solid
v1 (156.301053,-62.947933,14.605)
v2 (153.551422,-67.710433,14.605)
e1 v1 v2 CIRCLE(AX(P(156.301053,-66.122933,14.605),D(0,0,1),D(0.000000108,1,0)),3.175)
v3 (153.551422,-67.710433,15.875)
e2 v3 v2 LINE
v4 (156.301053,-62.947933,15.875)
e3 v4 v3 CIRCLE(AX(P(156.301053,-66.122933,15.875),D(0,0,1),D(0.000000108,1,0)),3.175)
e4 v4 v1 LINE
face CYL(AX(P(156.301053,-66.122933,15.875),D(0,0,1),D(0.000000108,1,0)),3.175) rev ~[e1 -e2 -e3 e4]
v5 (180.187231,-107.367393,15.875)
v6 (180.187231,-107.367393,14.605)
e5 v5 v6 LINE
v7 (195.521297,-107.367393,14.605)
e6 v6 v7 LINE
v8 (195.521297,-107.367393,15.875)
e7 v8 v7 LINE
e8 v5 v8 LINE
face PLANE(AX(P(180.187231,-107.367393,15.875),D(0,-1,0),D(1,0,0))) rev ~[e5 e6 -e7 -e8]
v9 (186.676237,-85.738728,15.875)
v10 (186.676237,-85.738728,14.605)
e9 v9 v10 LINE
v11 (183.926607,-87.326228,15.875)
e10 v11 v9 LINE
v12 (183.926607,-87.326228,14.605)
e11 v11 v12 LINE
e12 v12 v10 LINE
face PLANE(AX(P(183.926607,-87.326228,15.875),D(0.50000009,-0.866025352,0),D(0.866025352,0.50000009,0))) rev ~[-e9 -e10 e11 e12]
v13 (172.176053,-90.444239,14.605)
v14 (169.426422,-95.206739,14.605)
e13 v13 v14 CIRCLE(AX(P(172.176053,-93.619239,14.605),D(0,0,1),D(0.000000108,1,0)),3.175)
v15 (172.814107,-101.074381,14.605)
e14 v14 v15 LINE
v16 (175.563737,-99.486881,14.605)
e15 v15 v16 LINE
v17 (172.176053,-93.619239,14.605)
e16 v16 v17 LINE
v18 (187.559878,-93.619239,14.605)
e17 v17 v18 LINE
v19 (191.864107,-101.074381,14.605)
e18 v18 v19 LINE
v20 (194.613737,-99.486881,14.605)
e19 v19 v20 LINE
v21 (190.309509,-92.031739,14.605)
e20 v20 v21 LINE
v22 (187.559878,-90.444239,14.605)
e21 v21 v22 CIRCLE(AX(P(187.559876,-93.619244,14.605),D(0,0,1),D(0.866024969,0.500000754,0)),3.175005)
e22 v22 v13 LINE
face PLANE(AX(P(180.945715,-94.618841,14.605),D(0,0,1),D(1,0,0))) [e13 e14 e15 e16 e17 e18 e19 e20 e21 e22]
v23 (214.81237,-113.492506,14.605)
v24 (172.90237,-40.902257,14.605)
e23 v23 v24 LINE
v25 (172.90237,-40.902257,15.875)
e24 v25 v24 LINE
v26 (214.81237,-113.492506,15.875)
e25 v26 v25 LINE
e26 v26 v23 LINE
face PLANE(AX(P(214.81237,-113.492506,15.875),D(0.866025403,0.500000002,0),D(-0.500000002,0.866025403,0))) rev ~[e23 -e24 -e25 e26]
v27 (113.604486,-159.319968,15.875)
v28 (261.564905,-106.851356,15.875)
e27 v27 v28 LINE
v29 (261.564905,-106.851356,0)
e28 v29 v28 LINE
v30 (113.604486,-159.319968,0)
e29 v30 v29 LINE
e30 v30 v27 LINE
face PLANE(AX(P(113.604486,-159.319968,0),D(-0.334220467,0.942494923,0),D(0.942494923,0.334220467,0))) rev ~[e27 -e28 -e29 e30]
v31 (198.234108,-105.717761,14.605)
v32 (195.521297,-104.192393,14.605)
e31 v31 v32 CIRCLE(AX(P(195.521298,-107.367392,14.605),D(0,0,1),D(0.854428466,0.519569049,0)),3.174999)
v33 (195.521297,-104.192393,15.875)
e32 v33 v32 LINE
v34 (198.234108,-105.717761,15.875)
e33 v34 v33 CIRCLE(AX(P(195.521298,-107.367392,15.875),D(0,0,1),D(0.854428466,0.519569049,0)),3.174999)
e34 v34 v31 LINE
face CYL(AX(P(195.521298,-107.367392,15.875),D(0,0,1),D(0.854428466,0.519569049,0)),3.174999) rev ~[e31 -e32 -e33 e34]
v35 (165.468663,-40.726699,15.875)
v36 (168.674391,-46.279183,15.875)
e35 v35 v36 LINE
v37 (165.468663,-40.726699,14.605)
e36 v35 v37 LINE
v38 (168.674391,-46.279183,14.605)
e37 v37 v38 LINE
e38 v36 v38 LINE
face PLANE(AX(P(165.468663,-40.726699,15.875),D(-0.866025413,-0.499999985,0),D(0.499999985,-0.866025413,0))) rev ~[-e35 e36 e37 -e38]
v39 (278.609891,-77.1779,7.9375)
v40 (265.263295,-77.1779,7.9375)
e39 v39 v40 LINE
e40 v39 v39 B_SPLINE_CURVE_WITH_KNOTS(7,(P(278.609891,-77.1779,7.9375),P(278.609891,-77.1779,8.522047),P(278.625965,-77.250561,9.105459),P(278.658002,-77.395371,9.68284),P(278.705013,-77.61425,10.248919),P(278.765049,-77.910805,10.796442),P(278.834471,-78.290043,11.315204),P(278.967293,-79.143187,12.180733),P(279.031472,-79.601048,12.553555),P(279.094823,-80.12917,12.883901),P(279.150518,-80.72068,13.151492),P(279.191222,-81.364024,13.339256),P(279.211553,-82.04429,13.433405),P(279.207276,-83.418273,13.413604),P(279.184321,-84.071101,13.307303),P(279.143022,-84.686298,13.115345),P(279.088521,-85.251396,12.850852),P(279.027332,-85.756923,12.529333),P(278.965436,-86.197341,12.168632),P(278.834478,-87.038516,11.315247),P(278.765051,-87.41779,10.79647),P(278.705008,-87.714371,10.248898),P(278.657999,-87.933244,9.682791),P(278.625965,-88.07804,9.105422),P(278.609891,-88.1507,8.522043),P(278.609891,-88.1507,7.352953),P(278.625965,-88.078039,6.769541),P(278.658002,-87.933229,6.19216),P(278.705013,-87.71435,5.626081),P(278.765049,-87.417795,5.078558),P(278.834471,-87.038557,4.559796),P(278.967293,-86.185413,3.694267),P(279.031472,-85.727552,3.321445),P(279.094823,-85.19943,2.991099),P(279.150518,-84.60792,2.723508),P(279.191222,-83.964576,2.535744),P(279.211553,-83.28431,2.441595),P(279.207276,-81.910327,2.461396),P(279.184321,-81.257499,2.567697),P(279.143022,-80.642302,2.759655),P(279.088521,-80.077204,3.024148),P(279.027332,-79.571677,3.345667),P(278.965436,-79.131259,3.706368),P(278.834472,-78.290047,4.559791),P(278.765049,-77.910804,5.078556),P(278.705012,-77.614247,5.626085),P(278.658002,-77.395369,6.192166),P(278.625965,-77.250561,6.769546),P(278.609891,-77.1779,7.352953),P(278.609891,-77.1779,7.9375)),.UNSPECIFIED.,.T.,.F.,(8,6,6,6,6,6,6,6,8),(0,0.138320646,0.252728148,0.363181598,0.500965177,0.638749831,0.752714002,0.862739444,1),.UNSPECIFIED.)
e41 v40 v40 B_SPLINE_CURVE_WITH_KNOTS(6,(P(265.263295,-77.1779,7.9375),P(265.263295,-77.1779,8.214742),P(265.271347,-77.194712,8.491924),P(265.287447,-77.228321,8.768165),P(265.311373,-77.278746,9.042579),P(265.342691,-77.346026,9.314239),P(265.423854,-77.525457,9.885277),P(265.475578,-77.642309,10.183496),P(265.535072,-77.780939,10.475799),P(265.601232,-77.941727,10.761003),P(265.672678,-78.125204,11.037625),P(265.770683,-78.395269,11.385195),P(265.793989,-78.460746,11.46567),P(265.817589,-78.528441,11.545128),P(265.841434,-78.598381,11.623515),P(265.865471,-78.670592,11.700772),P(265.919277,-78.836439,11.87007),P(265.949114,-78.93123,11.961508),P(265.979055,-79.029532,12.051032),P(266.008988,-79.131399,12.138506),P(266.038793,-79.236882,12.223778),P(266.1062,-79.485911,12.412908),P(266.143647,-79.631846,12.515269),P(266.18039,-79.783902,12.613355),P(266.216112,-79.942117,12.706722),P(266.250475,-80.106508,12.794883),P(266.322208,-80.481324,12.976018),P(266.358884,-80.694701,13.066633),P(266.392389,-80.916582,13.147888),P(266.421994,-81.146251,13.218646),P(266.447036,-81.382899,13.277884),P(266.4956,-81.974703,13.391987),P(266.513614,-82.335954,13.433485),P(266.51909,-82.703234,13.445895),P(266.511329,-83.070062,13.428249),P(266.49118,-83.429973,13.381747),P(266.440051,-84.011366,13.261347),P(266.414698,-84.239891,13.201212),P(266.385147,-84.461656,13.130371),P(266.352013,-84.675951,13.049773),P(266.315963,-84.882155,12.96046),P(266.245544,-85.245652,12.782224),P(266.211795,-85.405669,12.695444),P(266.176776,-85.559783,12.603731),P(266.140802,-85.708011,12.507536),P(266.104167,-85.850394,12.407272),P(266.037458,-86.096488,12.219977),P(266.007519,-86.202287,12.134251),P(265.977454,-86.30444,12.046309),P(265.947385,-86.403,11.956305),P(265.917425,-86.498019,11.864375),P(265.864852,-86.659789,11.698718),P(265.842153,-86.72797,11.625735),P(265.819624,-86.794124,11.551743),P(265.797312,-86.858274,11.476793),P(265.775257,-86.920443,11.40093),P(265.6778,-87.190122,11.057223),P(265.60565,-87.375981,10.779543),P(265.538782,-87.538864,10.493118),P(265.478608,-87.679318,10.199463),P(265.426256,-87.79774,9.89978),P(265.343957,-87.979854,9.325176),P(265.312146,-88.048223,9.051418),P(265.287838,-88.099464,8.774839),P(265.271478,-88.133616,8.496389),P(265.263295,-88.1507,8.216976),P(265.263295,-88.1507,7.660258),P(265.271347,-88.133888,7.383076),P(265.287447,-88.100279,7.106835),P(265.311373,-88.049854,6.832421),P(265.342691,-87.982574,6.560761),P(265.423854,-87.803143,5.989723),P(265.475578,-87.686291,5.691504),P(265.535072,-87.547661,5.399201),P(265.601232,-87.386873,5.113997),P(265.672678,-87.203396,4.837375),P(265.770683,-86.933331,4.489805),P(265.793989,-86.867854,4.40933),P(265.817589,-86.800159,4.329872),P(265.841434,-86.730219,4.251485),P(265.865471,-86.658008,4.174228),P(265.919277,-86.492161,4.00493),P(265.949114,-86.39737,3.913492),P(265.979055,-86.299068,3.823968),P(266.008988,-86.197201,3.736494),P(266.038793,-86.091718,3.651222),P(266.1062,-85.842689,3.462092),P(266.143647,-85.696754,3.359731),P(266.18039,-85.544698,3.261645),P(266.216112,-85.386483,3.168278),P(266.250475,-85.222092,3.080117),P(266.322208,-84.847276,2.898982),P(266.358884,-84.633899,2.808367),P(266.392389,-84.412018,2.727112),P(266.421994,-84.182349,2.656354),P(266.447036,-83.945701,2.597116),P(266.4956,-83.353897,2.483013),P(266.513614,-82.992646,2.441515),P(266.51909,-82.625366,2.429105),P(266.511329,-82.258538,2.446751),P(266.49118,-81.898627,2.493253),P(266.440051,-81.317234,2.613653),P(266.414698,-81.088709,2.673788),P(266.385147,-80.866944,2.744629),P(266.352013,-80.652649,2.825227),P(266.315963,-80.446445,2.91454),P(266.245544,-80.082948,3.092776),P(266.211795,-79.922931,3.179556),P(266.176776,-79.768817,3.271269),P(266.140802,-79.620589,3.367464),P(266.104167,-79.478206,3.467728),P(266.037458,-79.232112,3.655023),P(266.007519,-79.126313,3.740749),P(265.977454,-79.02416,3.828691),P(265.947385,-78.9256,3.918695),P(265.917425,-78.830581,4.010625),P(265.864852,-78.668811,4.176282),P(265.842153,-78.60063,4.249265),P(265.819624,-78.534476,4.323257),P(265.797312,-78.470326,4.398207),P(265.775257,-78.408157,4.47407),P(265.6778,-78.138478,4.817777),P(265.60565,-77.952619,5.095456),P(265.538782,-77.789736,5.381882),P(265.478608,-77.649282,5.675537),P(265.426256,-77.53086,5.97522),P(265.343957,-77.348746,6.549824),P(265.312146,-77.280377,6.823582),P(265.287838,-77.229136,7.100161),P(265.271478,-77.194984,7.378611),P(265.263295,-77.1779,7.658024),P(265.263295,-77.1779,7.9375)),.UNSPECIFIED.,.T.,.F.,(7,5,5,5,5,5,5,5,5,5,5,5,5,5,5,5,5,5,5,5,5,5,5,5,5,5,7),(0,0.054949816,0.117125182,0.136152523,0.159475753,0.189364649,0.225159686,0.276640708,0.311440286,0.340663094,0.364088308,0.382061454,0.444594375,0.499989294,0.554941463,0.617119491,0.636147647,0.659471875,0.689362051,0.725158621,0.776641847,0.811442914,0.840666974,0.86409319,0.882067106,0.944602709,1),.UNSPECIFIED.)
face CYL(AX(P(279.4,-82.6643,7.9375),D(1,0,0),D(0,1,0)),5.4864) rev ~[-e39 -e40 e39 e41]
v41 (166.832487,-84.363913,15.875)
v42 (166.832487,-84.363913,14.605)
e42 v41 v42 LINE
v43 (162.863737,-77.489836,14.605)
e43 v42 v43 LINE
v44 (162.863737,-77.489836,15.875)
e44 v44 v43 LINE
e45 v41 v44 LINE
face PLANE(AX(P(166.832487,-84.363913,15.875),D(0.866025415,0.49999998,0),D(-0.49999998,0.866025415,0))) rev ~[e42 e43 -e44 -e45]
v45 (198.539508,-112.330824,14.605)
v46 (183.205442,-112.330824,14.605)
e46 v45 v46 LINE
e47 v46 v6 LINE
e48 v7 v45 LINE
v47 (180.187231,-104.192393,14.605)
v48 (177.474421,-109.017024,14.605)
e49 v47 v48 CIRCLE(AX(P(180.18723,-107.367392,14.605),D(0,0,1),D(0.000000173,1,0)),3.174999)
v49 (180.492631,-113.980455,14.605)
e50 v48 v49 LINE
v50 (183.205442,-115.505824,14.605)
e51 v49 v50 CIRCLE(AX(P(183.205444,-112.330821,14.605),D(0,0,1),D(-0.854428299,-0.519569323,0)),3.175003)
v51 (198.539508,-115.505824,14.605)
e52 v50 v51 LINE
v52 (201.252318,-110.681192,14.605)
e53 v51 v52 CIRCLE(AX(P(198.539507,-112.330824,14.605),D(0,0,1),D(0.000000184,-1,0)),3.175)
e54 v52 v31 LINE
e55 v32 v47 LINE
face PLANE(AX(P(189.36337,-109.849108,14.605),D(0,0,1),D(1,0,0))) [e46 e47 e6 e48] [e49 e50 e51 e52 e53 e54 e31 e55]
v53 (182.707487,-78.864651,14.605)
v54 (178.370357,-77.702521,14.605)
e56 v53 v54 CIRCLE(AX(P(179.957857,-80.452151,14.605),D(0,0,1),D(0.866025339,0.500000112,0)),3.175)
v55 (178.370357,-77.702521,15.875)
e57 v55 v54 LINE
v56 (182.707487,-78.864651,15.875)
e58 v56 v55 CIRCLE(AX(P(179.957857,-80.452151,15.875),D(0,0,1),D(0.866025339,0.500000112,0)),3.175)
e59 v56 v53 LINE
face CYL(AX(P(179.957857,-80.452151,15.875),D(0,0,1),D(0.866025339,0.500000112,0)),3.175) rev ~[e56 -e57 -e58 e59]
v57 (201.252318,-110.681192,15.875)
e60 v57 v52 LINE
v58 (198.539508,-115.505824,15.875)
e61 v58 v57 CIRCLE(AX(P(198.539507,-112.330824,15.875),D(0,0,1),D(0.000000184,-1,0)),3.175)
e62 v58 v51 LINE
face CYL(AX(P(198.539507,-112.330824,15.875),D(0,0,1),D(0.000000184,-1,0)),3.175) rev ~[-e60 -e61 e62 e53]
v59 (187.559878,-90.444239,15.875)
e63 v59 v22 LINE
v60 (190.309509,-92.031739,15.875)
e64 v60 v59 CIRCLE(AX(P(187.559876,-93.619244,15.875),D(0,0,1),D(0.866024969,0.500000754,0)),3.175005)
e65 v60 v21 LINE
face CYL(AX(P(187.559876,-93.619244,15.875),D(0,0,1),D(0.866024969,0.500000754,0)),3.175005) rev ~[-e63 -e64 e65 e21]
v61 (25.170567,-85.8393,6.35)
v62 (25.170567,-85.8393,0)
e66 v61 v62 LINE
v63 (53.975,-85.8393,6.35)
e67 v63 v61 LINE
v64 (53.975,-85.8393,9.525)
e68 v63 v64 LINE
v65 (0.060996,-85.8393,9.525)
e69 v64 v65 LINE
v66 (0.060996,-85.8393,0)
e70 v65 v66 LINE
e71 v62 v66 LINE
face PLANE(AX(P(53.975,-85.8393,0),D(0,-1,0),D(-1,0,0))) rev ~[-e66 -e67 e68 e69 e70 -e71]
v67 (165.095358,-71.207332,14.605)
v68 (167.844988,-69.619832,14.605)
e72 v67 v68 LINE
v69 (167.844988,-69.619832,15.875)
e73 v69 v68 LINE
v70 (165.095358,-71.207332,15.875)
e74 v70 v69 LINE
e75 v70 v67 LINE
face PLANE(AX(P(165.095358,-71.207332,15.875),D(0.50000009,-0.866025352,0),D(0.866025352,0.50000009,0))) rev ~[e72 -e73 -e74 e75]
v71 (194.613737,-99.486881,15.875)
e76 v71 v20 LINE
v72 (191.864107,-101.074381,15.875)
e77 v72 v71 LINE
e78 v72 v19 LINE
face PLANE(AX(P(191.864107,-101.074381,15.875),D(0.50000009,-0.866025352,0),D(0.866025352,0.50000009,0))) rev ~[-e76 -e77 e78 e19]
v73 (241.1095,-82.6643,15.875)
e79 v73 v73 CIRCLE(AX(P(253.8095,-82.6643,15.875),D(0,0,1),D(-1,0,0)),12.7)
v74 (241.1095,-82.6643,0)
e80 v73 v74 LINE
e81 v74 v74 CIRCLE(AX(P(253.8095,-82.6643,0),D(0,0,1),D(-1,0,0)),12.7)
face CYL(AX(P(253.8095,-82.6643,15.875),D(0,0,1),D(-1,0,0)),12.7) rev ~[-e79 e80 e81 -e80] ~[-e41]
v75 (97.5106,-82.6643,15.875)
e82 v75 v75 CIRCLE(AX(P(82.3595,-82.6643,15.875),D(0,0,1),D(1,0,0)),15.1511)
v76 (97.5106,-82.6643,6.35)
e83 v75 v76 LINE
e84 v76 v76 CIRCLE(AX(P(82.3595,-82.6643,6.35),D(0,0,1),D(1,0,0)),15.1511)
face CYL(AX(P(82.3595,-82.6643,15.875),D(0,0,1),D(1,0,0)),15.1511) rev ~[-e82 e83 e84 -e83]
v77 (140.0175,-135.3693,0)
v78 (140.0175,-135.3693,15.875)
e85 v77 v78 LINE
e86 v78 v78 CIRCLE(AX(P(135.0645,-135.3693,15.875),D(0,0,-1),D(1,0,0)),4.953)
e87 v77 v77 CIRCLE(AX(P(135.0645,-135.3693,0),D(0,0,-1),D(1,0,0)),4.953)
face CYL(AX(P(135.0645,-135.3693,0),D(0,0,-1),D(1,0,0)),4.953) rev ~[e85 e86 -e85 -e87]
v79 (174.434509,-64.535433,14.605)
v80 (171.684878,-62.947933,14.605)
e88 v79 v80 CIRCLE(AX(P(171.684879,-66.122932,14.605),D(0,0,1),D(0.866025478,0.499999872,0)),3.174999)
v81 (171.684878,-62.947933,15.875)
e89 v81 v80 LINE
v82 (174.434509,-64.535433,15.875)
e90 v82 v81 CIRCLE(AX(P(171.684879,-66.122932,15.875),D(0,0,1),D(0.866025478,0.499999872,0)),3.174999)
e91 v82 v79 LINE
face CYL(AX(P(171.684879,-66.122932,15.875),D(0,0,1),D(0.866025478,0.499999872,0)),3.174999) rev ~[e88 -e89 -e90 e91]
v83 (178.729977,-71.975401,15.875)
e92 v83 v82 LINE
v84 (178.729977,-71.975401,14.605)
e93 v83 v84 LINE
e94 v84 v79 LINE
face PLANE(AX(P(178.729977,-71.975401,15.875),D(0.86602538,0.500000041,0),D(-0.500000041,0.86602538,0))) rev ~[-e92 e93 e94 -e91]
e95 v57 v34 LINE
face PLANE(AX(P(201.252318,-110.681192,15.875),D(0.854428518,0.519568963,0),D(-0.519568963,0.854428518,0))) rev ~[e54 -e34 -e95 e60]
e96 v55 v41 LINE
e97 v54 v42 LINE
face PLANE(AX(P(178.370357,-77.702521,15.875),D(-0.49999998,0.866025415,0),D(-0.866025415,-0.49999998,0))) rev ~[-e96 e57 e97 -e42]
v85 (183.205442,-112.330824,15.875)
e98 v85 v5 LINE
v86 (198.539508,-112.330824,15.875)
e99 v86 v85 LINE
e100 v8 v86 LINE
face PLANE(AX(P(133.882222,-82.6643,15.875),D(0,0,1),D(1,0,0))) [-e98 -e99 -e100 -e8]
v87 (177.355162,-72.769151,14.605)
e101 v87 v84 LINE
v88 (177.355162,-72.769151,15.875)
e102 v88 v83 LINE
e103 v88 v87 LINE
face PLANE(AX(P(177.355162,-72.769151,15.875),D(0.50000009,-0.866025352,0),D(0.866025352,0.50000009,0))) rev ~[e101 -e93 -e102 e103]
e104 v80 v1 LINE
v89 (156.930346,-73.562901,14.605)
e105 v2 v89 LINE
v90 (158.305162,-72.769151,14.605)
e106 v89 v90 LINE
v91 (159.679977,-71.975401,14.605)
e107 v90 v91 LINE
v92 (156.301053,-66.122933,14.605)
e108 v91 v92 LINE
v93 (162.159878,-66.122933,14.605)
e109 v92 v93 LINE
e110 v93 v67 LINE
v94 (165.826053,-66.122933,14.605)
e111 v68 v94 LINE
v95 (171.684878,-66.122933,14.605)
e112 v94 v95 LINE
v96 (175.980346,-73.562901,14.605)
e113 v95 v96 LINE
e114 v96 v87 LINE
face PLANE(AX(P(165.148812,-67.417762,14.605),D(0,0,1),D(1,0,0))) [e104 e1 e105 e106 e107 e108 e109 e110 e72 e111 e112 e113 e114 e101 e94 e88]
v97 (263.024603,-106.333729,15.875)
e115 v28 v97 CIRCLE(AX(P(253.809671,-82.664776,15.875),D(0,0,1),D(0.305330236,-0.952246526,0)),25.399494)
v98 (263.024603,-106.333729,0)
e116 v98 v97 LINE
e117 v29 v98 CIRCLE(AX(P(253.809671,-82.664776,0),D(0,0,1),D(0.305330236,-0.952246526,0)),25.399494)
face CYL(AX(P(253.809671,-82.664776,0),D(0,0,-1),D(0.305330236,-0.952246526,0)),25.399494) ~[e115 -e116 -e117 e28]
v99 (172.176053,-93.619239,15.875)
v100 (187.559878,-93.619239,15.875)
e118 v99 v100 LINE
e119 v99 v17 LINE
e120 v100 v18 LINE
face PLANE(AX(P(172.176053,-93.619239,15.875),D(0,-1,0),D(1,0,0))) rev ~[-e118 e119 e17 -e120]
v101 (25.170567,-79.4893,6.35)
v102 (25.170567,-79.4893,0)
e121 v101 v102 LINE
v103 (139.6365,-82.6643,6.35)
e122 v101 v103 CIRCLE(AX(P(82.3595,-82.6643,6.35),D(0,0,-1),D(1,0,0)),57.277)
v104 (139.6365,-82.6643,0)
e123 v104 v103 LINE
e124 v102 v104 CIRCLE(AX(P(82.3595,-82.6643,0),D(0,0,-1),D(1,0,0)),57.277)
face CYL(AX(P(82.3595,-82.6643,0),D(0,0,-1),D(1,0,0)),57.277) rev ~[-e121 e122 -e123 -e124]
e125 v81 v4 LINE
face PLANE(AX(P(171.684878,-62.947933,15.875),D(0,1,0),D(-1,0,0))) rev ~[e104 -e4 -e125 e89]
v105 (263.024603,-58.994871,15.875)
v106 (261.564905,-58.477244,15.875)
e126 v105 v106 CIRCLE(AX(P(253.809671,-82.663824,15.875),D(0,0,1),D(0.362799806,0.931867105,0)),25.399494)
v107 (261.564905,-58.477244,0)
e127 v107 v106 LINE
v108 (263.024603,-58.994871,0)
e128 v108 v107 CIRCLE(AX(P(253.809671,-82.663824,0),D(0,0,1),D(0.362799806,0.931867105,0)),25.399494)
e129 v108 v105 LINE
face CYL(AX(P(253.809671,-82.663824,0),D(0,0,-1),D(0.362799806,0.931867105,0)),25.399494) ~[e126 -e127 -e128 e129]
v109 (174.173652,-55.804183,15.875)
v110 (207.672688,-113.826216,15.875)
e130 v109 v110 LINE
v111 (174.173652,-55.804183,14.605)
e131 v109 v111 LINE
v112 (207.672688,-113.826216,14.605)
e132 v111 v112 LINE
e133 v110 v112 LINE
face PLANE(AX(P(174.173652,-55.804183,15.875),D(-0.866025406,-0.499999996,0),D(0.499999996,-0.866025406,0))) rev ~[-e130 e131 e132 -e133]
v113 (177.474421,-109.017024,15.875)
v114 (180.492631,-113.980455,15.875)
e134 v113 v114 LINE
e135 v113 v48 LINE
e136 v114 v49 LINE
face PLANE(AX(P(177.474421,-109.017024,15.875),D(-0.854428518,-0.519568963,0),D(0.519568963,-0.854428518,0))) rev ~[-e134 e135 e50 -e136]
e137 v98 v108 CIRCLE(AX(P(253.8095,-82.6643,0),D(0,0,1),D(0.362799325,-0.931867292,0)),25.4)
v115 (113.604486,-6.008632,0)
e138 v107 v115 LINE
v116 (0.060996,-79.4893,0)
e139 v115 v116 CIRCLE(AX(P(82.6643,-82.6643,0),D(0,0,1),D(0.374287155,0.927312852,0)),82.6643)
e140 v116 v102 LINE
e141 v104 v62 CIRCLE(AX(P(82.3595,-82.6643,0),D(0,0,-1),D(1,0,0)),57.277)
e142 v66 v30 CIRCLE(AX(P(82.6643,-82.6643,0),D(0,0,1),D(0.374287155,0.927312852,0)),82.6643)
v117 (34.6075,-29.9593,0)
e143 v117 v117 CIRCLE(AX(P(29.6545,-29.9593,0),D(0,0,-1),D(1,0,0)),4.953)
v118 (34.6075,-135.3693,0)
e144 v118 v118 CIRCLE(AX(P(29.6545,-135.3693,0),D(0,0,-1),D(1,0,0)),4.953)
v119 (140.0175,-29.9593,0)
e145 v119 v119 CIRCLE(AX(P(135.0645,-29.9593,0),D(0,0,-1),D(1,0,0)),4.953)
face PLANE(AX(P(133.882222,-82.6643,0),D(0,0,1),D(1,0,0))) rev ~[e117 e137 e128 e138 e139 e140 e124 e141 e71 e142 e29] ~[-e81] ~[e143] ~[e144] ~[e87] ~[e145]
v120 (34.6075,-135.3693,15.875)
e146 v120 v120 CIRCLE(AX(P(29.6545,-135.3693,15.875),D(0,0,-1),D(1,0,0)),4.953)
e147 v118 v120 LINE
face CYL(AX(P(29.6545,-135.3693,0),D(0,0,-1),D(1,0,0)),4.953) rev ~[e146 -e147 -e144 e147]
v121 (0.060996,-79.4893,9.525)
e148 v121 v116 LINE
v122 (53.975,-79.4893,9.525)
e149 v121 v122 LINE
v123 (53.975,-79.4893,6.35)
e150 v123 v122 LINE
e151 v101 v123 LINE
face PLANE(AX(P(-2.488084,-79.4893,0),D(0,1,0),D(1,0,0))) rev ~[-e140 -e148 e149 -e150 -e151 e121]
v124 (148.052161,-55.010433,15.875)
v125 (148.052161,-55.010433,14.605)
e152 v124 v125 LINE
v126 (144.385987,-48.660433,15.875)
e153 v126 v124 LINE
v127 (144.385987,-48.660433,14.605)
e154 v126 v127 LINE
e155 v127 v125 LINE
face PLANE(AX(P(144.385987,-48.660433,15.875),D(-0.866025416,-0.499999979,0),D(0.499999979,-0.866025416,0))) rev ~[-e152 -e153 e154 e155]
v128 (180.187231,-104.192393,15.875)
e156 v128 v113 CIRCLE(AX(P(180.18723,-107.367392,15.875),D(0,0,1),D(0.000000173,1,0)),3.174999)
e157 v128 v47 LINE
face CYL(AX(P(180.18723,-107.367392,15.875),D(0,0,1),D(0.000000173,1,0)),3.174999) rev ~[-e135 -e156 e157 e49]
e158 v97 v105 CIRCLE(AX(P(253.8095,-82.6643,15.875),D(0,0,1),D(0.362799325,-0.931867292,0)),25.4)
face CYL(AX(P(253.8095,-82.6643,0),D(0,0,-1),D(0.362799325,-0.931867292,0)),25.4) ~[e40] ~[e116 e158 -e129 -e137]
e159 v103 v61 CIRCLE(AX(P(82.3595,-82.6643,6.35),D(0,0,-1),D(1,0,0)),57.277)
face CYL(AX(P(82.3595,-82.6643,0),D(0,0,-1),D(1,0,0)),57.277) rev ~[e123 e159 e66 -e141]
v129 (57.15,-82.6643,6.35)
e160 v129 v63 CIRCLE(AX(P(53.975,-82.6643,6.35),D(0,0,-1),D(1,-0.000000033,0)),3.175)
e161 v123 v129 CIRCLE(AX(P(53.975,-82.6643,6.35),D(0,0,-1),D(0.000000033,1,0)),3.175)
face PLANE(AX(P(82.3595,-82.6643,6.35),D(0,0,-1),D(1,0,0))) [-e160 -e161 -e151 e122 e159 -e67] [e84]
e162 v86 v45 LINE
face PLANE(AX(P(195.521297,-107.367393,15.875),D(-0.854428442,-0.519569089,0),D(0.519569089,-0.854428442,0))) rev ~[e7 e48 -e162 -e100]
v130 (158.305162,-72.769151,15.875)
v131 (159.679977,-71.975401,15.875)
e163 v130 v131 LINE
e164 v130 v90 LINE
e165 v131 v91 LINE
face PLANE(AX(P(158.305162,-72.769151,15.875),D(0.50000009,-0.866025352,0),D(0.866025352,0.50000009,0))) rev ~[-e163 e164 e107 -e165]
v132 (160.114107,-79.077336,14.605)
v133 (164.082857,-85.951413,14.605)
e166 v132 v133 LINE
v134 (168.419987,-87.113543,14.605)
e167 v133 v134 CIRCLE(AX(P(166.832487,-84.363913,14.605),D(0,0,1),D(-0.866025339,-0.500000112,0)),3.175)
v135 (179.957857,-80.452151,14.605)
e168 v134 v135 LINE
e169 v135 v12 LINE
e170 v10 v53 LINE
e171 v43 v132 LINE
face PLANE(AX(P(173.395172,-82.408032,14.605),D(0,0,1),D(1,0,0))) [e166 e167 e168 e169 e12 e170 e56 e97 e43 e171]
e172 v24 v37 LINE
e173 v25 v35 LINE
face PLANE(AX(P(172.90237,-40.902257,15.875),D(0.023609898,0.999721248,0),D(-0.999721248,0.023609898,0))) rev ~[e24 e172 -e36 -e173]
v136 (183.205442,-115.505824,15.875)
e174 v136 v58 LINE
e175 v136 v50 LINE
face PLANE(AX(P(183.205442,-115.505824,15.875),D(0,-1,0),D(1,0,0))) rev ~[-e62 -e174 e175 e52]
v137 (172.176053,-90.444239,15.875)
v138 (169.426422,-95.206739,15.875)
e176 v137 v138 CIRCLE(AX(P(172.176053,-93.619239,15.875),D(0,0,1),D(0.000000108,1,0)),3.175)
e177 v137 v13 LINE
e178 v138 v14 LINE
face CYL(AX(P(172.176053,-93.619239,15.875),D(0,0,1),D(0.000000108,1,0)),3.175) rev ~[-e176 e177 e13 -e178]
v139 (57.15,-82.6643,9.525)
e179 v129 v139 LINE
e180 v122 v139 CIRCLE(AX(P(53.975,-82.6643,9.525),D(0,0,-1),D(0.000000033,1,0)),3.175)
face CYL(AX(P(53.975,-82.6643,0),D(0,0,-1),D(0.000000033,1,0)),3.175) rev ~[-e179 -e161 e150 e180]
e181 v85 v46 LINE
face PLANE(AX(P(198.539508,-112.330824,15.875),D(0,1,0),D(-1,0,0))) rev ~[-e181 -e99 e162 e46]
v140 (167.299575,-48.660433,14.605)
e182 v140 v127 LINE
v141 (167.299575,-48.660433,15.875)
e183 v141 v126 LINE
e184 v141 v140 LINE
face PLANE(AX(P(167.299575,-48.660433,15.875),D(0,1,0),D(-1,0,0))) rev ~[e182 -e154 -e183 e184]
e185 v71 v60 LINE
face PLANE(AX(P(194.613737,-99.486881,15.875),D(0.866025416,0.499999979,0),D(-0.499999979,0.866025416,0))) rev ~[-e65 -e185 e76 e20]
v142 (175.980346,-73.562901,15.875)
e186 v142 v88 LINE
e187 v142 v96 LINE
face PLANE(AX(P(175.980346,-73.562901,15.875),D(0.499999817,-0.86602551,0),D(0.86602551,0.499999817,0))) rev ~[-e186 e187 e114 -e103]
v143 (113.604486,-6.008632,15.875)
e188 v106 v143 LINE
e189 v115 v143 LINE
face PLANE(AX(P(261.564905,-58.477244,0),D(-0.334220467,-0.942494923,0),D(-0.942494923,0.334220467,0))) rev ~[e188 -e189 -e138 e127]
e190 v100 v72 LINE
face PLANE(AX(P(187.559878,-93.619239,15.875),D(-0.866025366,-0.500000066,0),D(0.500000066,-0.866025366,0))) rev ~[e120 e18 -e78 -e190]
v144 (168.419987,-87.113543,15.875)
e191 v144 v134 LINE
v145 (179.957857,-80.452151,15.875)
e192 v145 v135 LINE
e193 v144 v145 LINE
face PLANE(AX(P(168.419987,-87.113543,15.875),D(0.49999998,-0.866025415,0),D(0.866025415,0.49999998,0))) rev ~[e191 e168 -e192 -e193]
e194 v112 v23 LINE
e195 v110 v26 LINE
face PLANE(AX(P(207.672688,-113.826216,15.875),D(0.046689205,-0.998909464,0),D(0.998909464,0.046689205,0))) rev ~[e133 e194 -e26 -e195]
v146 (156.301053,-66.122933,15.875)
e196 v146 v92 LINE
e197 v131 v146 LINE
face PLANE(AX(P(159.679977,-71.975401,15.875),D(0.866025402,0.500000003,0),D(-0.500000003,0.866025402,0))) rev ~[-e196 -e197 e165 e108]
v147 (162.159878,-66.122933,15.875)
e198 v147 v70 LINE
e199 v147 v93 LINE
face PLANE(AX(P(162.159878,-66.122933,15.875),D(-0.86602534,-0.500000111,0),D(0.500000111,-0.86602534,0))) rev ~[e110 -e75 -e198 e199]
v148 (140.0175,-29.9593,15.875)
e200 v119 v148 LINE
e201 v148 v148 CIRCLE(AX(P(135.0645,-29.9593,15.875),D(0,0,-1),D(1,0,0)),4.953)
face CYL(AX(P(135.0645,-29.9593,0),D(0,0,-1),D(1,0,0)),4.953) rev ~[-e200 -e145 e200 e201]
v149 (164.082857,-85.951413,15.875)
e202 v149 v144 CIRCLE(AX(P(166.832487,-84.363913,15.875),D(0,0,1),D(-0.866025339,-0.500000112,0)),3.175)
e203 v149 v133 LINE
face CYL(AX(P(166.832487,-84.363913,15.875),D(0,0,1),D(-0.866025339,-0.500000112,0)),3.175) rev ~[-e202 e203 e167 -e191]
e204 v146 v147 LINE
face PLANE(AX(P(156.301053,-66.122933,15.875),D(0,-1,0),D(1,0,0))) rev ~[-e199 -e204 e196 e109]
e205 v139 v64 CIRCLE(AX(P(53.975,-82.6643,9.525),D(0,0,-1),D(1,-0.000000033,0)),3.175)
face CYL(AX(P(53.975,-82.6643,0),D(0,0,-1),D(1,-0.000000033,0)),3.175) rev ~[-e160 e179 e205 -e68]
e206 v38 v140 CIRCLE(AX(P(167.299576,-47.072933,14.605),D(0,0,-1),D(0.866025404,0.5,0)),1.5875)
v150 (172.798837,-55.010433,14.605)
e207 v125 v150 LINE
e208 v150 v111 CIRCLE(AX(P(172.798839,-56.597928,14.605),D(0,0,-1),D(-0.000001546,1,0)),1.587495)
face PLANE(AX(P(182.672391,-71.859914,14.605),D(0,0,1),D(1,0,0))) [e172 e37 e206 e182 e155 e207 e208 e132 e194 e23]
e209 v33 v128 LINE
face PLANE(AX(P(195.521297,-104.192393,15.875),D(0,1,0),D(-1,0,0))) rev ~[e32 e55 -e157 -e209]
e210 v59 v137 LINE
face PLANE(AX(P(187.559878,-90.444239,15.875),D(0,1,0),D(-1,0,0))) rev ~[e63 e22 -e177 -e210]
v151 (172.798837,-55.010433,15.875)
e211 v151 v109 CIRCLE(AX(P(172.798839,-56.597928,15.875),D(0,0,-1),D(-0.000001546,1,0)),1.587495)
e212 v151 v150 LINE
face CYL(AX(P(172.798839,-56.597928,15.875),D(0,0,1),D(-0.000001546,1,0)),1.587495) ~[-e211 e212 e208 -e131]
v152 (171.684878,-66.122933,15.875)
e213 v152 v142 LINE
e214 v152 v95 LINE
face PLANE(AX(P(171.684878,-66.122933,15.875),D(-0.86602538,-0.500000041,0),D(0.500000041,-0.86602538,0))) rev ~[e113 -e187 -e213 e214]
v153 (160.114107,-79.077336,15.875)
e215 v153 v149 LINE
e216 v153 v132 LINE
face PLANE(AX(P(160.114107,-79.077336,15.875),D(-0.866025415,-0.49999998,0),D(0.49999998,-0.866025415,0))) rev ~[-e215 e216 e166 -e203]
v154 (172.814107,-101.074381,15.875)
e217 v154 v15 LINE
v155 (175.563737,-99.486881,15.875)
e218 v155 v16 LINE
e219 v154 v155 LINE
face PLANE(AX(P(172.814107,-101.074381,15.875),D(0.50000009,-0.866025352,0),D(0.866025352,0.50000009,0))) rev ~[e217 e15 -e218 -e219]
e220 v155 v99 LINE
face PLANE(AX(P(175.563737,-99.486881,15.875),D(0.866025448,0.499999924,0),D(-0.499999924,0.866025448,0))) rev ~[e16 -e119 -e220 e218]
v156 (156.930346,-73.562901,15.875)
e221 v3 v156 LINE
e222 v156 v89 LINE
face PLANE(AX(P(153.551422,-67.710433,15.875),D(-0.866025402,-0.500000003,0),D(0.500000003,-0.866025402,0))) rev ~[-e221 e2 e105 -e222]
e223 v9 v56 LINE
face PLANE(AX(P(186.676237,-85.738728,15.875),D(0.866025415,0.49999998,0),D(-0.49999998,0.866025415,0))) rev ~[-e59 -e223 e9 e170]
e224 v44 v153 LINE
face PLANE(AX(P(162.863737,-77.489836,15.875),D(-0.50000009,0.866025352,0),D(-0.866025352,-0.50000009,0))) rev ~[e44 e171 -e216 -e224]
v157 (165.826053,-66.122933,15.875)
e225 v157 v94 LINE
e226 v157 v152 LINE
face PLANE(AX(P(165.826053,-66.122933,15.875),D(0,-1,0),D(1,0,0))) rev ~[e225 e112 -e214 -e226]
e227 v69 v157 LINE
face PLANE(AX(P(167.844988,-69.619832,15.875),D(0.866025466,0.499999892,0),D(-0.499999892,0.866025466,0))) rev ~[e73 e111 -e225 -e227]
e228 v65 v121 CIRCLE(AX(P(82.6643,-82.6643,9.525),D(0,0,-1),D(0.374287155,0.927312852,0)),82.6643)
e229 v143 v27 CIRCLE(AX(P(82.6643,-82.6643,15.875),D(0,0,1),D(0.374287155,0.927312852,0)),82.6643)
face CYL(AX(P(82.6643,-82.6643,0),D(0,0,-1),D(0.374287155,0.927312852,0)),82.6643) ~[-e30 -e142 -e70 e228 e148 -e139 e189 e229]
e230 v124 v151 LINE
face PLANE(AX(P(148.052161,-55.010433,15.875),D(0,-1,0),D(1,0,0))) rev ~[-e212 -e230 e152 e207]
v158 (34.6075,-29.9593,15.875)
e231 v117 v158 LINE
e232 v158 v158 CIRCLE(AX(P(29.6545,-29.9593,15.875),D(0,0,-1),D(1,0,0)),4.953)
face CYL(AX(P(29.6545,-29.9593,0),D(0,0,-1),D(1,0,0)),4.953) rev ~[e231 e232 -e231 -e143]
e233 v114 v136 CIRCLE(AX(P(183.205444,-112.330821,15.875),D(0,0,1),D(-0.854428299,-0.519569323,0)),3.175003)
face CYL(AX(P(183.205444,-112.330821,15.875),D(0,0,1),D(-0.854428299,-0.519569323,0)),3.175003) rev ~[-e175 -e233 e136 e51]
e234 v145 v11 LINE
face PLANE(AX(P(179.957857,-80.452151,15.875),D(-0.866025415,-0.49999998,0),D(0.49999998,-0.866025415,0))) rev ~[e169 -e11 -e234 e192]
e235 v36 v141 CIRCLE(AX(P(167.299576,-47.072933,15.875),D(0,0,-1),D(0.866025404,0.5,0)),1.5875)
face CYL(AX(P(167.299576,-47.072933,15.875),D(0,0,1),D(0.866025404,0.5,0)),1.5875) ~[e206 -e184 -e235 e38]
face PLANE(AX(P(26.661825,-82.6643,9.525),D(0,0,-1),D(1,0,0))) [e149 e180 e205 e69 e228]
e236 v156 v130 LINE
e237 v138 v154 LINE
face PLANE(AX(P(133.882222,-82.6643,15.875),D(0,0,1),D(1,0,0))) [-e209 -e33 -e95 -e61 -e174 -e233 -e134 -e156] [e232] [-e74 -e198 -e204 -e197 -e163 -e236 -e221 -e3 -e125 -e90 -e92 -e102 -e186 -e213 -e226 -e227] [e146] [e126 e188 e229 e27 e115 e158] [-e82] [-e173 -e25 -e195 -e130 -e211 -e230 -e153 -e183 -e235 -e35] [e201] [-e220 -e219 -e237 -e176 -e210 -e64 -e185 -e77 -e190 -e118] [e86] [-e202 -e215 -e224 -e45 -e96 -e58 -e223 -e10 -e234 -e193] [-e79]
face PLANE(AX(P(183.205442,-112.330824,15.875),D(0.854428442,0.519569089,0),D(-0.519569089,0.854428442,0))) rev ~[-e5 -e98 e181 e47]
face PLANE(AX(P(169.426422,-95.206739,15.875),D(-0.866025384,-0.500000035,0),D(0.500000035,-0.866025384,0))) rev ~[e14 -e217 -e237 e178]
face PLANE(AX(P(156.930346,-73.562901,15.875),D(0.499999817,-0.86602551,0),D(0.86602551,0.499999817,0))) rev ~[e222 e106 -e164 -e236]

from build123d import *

# Parameters (mm, degrees)
F1_DEPTH  = 15.875
F3_DEPTH  = 15.876
F4_R      = 15.1511
F5_DEPTH  = 15.876
F6_R      = 57.277
F7_DEPTH  = 6.35
F8_R      = 4.953
F9_DEPTH  = 15.876
F11_DEPTH = 9.525
F13_R     = 5.4864
F14_DEPTH = 15.875
F16_DEPTH = 1.27


with BuildPart() as f1:
    # F0 (on Top) → F1 (new body)
    with BuildSketch(Plane.XY):
        with BuildLine():
            Line((261.564905, -58.477244), (113.604486, -6.008632))
            ThreePointArc((113.604486, -6.008632), (0, -82.6643), (113.604486, -159.319968))
            Line((113.604486, -159.319968), (261.564905, -106.851356))
            Line((261.564905, -106.851356), (263.024603, -106.333729))
            ThreePointArc((263.024603, -106.333729), (279.2095, -82.6643), (263.024603, -58.994871))
            Line((263.024603, -58.994871), (261.564905, -58.477244))
        make_face()
        with BuildLine():
            ThreePointArc((263.024603, -58.994871), (262.2987, -58.724929), (261.564905, -58.477244))
            Line((261.564905, -58.477244), (263.024603, -58.994871))
        make_face()
        with BuildLine():
            Line((263.024603, -106.333729), (261.564905, -106.851356))
            ThreePointArc((261.564905, -106.851356), (262.2987, -106.603671), (263.024603, -106.333729))
        make_face()
    extrude(amount=F1_DEPTH)

    # F2 (on face) → F3 (cut, through all)
    with BuildSketch(Plane.XY.offset(15.875)):
        with BuildLine():
            ThreePointArc((266.5095, -82.6643), (253.8095, -69.9643), (241.1095, -82.6643))
            Line((241.1095, -82.6643), (266.5095, -82.6643))
        make_face()
        with BuildLine():
            Line((266.5095, -82.6643), (241.1095, -82.6643))
            ThreePointArc((241.1095, -82.6643), (253.8095, -95.3643), (266.5095, -82.6643))
        make_face()
    extrude(amount=-F3_DEPTH, mode=Mode.SUBTRACT)

    # F4 (on face) → F5 (cut, through all)
    with BuildSketch(Plane.XY.offset(15.875)):
        with Locations((82.3595, -82.6643)):
            Circle(F4_R)
    extrude(amount=-F5_DEPTH, mode=Mode.SUBTRACT)

    # F6 (on face) → F7 (cut)
    with BuildSketch(Plane(origin=(0, 0, 0), x_dir=(1, 0, 0), z_dir=(0, 0, -1))):
        with Locations((82.3595, 82.6643)):
            Circle(F6_R)
    extrude(amount=-F7_DEPTH, mode=Mode.SUBTRACT)

    # F8 (on face) → F9 (cut, through all)
    with BuildSketch(Plane(origin=(0, 0, 0), x_dir=(1, 0, 0), z_dir=(0, 0, -1))):
        with Locations((29.6545, 135.3693)):
            Circle(F8_R)
        with Locations((135.0645, 135.3693)):
            Circle(F8_R)
        with Locations((135.0645, 29.9593)):
            Circle(F8_R)
        with Locations((29.6545, 29.9593)):
            Circle(F8_R)
    extrude(amount=-F9_DEPTH, mode=Mode.SUBTRACT)

    # F10 (on face) → F11 (cut)
    with BuildSketch(Plane(origin=(0, 0, 0), x_dir=(1, 0, 0), z_dir=(0, 0, -1))):
        with BuildLine():
            ThreePointArc((57.15, 82.6643), (56.220064, 84.909364), (53.975, 85.8393))
            Line((53.975, 85.8393), (0.060996, 85.8393))
            Line((0.060996, 85.8393), (-2.488084, 85.8393))
            Line((-2.488084, 85.8393), (-2.488084, 79.4893))
            Line((-2.488084, 79.4893), (-1.513804, 79.4893))
            Line((-1.513804, 79.4893), (53.975, 79.4893))
            ThreePointArc((53.975, 79.4893), (56.220064, 80.419236), (57.15, 82.6643))
        make_face()
    extrude(amount=-F11_DEPTH, mode=Mode.SUBTRACT)

    # F13 (on offset) → F14 (cut)
    with BuildSketch(Plane.YZ.offset(279.4)):
        with Locations((-82.6643, 7.9375)):
            Circle(F13_R)
    extrude(amount=-F14_DEPTH, mode=Mode.SUBTRACT)

    # F15 (on face) → F16 (cut)
    with BuildSketch(Plane.XY.offset(15.875)):
        with BuildLine():
            Line((167.299575, -48.660433), (144.385987, -48.660433))
            Line((144.385987, -48.660433), (148.052161, -55.010433))
            Line((148.052161, -55.010433), (172.798837, -55.010433))
            ThreePointArc((172.798837, -55.010433), (173.592587, -55.223117), (174.173652, -55.804183))
            Line((174.173652, -55.804183), (207.672688, -113.826216))
            Line((207.672688, -113.826216), (214.81237, -113.492506))
            Line((214.81237, -113.492506), (172.90237, -40.902257))
            Line((172.90237, -40.902257), (165.468663, -40.726699))
            Line((165.468663, -40.726699), (168.674391, -46.279183))
            ThreePointArc((168.674391, -46.279183), (168.674391, -47.866683), (167.299575, -48.660433))
        make_face()
        with BuildLine():
            Line((165.826053, -66.122933), (171.684878, -66.122933))
            Line((171.684878, -66.122933), (175.980346, -73.562901))
            Line((175.980346, -73.562901), (177.355162, -72.769151))
            Line((177.355162, -72.769151), (178.729977, -71.975401))
            Line((178.729977, -71.975401), (174.434509, -64.535433))
            ThreePointArc((174.434509, -64.535433), (173.272378, -63.373302), (171.684878, -62.947933))
            Line((171.684878, -62.947933), (156.301053, -62.947933))
            ThreePointArc((156.301053, -62.947933), (153.551422, -64.535433), (153.551422, -67.710433))
            Line((153.551422, -67.710433), (156.930346, -73.562901))
            Line((156.930346, -73.562901), (158.305162, -72.769151))
            Line((158.305162, -72.769151), (159.679977, -71.975401))
            Line((159.679977, -71.975401), (156.301053, -66.122933))
            Line((156.301053, -66.122933), (162.159878, -66.122933))
            Line((162.159878, -66.122933), (165.095358, -71.207332))
            Line((165.095358, -71.207332), (167.844988, -69.619832))
            Line((167.844988, -69.619832), (165.826053, -66.122933))
        make_face()
        with BuildLine():
            Line((166.832487, -84.363913), (162.863737, -77.489836))
            Line((162.863737, -77.489836), (160.114107, -79.077336))
            Line((160.114107, -79.077336), (164.082857, -85.951413))
            ThreePointArc((164.082857, -85.951413), (166.010737, -87.430727), (168.419987, -87.113543))
            Line((168.419987, -87.113543), (179.957857, -80.452151))
            Line((179.957857, -80.452151), (183.926607, -87.326228))
            Line((183.926607, -87.326228), (186.676237, -85.738728))
            Line((186.676237, -85.738728), (182.707487, -78.864651))
            ThreePointArc((182.707487, -78.864651), (180.779607, -77.385337), (178.370357, -77.702521))
            Line((178.370357, -77.702521), (166.832487, -84.363913))
        make_face()
        with BuildLine():
            Line((172.176053, -93.619239), (187.559878, -93.619239))
            Line((187.559878, -93.619239), (191.864107, -101.074381))
            Line((191.864107, -101.074381), (194.613737, -99.486881))
            Line((194.613737, -99.486881), (190.309509, -92.031739))
            ThreePointArc((190.309509, -92.031739), (189.147378, -90.869609), (187.559878, -90.444239))
            Line((187.559878, -90.444239), (172.176053, -90.444239))
            ThreePointArc((172.176053, -90.444239), (169.426422, -92.031739), (169.426422, -95.206739))
            Line((169.426422, -95.206739), (172.814107, -101.074381))
            Line((172.814107, -101.074381), (175.563737, -99.486881))
            Line((175.563737, -99.486881), (172.176053, -93.619239))
        make_face()
        with BuildLine():
            Line((201.252318, -110.681192), (198.234108, -105.717761))
            ThreePointArc((198.234108, -105.717761), (197.077421, -104.599884), (195.521297, -104.192393))
            Line((195.521297, -104.192393), (180.187231, -104.192393))
            ThreePointArc((180.187231, -104.192393), (177.419723, -105.811268), (177.474421, -109.017024))
            Line((177.474421, -109.017024), (180.492631, -113.980455))
            ThreePointArc((180.492631, -113.980455), (181.649318, -115.098332), (183.205442, -115.505824))
            Line((183.205442, -115.505824), (198.539508, -115.505824))
            ThreePointArc((198.539508, -115.505824), (201.307016, -113.886948), (201.252318, -110.681192))
        make_face()
        Polygon((183.205442, -112.330824), (180.187231, -107.367393), (195.521297, -107.367393), (198.539508, -112.330824), align=None, mode=Mode.SUBTRACT)
    extrude(amount=-F16_DEPTH, mode=Mode.SUBTRACT)


solid = f1.part
